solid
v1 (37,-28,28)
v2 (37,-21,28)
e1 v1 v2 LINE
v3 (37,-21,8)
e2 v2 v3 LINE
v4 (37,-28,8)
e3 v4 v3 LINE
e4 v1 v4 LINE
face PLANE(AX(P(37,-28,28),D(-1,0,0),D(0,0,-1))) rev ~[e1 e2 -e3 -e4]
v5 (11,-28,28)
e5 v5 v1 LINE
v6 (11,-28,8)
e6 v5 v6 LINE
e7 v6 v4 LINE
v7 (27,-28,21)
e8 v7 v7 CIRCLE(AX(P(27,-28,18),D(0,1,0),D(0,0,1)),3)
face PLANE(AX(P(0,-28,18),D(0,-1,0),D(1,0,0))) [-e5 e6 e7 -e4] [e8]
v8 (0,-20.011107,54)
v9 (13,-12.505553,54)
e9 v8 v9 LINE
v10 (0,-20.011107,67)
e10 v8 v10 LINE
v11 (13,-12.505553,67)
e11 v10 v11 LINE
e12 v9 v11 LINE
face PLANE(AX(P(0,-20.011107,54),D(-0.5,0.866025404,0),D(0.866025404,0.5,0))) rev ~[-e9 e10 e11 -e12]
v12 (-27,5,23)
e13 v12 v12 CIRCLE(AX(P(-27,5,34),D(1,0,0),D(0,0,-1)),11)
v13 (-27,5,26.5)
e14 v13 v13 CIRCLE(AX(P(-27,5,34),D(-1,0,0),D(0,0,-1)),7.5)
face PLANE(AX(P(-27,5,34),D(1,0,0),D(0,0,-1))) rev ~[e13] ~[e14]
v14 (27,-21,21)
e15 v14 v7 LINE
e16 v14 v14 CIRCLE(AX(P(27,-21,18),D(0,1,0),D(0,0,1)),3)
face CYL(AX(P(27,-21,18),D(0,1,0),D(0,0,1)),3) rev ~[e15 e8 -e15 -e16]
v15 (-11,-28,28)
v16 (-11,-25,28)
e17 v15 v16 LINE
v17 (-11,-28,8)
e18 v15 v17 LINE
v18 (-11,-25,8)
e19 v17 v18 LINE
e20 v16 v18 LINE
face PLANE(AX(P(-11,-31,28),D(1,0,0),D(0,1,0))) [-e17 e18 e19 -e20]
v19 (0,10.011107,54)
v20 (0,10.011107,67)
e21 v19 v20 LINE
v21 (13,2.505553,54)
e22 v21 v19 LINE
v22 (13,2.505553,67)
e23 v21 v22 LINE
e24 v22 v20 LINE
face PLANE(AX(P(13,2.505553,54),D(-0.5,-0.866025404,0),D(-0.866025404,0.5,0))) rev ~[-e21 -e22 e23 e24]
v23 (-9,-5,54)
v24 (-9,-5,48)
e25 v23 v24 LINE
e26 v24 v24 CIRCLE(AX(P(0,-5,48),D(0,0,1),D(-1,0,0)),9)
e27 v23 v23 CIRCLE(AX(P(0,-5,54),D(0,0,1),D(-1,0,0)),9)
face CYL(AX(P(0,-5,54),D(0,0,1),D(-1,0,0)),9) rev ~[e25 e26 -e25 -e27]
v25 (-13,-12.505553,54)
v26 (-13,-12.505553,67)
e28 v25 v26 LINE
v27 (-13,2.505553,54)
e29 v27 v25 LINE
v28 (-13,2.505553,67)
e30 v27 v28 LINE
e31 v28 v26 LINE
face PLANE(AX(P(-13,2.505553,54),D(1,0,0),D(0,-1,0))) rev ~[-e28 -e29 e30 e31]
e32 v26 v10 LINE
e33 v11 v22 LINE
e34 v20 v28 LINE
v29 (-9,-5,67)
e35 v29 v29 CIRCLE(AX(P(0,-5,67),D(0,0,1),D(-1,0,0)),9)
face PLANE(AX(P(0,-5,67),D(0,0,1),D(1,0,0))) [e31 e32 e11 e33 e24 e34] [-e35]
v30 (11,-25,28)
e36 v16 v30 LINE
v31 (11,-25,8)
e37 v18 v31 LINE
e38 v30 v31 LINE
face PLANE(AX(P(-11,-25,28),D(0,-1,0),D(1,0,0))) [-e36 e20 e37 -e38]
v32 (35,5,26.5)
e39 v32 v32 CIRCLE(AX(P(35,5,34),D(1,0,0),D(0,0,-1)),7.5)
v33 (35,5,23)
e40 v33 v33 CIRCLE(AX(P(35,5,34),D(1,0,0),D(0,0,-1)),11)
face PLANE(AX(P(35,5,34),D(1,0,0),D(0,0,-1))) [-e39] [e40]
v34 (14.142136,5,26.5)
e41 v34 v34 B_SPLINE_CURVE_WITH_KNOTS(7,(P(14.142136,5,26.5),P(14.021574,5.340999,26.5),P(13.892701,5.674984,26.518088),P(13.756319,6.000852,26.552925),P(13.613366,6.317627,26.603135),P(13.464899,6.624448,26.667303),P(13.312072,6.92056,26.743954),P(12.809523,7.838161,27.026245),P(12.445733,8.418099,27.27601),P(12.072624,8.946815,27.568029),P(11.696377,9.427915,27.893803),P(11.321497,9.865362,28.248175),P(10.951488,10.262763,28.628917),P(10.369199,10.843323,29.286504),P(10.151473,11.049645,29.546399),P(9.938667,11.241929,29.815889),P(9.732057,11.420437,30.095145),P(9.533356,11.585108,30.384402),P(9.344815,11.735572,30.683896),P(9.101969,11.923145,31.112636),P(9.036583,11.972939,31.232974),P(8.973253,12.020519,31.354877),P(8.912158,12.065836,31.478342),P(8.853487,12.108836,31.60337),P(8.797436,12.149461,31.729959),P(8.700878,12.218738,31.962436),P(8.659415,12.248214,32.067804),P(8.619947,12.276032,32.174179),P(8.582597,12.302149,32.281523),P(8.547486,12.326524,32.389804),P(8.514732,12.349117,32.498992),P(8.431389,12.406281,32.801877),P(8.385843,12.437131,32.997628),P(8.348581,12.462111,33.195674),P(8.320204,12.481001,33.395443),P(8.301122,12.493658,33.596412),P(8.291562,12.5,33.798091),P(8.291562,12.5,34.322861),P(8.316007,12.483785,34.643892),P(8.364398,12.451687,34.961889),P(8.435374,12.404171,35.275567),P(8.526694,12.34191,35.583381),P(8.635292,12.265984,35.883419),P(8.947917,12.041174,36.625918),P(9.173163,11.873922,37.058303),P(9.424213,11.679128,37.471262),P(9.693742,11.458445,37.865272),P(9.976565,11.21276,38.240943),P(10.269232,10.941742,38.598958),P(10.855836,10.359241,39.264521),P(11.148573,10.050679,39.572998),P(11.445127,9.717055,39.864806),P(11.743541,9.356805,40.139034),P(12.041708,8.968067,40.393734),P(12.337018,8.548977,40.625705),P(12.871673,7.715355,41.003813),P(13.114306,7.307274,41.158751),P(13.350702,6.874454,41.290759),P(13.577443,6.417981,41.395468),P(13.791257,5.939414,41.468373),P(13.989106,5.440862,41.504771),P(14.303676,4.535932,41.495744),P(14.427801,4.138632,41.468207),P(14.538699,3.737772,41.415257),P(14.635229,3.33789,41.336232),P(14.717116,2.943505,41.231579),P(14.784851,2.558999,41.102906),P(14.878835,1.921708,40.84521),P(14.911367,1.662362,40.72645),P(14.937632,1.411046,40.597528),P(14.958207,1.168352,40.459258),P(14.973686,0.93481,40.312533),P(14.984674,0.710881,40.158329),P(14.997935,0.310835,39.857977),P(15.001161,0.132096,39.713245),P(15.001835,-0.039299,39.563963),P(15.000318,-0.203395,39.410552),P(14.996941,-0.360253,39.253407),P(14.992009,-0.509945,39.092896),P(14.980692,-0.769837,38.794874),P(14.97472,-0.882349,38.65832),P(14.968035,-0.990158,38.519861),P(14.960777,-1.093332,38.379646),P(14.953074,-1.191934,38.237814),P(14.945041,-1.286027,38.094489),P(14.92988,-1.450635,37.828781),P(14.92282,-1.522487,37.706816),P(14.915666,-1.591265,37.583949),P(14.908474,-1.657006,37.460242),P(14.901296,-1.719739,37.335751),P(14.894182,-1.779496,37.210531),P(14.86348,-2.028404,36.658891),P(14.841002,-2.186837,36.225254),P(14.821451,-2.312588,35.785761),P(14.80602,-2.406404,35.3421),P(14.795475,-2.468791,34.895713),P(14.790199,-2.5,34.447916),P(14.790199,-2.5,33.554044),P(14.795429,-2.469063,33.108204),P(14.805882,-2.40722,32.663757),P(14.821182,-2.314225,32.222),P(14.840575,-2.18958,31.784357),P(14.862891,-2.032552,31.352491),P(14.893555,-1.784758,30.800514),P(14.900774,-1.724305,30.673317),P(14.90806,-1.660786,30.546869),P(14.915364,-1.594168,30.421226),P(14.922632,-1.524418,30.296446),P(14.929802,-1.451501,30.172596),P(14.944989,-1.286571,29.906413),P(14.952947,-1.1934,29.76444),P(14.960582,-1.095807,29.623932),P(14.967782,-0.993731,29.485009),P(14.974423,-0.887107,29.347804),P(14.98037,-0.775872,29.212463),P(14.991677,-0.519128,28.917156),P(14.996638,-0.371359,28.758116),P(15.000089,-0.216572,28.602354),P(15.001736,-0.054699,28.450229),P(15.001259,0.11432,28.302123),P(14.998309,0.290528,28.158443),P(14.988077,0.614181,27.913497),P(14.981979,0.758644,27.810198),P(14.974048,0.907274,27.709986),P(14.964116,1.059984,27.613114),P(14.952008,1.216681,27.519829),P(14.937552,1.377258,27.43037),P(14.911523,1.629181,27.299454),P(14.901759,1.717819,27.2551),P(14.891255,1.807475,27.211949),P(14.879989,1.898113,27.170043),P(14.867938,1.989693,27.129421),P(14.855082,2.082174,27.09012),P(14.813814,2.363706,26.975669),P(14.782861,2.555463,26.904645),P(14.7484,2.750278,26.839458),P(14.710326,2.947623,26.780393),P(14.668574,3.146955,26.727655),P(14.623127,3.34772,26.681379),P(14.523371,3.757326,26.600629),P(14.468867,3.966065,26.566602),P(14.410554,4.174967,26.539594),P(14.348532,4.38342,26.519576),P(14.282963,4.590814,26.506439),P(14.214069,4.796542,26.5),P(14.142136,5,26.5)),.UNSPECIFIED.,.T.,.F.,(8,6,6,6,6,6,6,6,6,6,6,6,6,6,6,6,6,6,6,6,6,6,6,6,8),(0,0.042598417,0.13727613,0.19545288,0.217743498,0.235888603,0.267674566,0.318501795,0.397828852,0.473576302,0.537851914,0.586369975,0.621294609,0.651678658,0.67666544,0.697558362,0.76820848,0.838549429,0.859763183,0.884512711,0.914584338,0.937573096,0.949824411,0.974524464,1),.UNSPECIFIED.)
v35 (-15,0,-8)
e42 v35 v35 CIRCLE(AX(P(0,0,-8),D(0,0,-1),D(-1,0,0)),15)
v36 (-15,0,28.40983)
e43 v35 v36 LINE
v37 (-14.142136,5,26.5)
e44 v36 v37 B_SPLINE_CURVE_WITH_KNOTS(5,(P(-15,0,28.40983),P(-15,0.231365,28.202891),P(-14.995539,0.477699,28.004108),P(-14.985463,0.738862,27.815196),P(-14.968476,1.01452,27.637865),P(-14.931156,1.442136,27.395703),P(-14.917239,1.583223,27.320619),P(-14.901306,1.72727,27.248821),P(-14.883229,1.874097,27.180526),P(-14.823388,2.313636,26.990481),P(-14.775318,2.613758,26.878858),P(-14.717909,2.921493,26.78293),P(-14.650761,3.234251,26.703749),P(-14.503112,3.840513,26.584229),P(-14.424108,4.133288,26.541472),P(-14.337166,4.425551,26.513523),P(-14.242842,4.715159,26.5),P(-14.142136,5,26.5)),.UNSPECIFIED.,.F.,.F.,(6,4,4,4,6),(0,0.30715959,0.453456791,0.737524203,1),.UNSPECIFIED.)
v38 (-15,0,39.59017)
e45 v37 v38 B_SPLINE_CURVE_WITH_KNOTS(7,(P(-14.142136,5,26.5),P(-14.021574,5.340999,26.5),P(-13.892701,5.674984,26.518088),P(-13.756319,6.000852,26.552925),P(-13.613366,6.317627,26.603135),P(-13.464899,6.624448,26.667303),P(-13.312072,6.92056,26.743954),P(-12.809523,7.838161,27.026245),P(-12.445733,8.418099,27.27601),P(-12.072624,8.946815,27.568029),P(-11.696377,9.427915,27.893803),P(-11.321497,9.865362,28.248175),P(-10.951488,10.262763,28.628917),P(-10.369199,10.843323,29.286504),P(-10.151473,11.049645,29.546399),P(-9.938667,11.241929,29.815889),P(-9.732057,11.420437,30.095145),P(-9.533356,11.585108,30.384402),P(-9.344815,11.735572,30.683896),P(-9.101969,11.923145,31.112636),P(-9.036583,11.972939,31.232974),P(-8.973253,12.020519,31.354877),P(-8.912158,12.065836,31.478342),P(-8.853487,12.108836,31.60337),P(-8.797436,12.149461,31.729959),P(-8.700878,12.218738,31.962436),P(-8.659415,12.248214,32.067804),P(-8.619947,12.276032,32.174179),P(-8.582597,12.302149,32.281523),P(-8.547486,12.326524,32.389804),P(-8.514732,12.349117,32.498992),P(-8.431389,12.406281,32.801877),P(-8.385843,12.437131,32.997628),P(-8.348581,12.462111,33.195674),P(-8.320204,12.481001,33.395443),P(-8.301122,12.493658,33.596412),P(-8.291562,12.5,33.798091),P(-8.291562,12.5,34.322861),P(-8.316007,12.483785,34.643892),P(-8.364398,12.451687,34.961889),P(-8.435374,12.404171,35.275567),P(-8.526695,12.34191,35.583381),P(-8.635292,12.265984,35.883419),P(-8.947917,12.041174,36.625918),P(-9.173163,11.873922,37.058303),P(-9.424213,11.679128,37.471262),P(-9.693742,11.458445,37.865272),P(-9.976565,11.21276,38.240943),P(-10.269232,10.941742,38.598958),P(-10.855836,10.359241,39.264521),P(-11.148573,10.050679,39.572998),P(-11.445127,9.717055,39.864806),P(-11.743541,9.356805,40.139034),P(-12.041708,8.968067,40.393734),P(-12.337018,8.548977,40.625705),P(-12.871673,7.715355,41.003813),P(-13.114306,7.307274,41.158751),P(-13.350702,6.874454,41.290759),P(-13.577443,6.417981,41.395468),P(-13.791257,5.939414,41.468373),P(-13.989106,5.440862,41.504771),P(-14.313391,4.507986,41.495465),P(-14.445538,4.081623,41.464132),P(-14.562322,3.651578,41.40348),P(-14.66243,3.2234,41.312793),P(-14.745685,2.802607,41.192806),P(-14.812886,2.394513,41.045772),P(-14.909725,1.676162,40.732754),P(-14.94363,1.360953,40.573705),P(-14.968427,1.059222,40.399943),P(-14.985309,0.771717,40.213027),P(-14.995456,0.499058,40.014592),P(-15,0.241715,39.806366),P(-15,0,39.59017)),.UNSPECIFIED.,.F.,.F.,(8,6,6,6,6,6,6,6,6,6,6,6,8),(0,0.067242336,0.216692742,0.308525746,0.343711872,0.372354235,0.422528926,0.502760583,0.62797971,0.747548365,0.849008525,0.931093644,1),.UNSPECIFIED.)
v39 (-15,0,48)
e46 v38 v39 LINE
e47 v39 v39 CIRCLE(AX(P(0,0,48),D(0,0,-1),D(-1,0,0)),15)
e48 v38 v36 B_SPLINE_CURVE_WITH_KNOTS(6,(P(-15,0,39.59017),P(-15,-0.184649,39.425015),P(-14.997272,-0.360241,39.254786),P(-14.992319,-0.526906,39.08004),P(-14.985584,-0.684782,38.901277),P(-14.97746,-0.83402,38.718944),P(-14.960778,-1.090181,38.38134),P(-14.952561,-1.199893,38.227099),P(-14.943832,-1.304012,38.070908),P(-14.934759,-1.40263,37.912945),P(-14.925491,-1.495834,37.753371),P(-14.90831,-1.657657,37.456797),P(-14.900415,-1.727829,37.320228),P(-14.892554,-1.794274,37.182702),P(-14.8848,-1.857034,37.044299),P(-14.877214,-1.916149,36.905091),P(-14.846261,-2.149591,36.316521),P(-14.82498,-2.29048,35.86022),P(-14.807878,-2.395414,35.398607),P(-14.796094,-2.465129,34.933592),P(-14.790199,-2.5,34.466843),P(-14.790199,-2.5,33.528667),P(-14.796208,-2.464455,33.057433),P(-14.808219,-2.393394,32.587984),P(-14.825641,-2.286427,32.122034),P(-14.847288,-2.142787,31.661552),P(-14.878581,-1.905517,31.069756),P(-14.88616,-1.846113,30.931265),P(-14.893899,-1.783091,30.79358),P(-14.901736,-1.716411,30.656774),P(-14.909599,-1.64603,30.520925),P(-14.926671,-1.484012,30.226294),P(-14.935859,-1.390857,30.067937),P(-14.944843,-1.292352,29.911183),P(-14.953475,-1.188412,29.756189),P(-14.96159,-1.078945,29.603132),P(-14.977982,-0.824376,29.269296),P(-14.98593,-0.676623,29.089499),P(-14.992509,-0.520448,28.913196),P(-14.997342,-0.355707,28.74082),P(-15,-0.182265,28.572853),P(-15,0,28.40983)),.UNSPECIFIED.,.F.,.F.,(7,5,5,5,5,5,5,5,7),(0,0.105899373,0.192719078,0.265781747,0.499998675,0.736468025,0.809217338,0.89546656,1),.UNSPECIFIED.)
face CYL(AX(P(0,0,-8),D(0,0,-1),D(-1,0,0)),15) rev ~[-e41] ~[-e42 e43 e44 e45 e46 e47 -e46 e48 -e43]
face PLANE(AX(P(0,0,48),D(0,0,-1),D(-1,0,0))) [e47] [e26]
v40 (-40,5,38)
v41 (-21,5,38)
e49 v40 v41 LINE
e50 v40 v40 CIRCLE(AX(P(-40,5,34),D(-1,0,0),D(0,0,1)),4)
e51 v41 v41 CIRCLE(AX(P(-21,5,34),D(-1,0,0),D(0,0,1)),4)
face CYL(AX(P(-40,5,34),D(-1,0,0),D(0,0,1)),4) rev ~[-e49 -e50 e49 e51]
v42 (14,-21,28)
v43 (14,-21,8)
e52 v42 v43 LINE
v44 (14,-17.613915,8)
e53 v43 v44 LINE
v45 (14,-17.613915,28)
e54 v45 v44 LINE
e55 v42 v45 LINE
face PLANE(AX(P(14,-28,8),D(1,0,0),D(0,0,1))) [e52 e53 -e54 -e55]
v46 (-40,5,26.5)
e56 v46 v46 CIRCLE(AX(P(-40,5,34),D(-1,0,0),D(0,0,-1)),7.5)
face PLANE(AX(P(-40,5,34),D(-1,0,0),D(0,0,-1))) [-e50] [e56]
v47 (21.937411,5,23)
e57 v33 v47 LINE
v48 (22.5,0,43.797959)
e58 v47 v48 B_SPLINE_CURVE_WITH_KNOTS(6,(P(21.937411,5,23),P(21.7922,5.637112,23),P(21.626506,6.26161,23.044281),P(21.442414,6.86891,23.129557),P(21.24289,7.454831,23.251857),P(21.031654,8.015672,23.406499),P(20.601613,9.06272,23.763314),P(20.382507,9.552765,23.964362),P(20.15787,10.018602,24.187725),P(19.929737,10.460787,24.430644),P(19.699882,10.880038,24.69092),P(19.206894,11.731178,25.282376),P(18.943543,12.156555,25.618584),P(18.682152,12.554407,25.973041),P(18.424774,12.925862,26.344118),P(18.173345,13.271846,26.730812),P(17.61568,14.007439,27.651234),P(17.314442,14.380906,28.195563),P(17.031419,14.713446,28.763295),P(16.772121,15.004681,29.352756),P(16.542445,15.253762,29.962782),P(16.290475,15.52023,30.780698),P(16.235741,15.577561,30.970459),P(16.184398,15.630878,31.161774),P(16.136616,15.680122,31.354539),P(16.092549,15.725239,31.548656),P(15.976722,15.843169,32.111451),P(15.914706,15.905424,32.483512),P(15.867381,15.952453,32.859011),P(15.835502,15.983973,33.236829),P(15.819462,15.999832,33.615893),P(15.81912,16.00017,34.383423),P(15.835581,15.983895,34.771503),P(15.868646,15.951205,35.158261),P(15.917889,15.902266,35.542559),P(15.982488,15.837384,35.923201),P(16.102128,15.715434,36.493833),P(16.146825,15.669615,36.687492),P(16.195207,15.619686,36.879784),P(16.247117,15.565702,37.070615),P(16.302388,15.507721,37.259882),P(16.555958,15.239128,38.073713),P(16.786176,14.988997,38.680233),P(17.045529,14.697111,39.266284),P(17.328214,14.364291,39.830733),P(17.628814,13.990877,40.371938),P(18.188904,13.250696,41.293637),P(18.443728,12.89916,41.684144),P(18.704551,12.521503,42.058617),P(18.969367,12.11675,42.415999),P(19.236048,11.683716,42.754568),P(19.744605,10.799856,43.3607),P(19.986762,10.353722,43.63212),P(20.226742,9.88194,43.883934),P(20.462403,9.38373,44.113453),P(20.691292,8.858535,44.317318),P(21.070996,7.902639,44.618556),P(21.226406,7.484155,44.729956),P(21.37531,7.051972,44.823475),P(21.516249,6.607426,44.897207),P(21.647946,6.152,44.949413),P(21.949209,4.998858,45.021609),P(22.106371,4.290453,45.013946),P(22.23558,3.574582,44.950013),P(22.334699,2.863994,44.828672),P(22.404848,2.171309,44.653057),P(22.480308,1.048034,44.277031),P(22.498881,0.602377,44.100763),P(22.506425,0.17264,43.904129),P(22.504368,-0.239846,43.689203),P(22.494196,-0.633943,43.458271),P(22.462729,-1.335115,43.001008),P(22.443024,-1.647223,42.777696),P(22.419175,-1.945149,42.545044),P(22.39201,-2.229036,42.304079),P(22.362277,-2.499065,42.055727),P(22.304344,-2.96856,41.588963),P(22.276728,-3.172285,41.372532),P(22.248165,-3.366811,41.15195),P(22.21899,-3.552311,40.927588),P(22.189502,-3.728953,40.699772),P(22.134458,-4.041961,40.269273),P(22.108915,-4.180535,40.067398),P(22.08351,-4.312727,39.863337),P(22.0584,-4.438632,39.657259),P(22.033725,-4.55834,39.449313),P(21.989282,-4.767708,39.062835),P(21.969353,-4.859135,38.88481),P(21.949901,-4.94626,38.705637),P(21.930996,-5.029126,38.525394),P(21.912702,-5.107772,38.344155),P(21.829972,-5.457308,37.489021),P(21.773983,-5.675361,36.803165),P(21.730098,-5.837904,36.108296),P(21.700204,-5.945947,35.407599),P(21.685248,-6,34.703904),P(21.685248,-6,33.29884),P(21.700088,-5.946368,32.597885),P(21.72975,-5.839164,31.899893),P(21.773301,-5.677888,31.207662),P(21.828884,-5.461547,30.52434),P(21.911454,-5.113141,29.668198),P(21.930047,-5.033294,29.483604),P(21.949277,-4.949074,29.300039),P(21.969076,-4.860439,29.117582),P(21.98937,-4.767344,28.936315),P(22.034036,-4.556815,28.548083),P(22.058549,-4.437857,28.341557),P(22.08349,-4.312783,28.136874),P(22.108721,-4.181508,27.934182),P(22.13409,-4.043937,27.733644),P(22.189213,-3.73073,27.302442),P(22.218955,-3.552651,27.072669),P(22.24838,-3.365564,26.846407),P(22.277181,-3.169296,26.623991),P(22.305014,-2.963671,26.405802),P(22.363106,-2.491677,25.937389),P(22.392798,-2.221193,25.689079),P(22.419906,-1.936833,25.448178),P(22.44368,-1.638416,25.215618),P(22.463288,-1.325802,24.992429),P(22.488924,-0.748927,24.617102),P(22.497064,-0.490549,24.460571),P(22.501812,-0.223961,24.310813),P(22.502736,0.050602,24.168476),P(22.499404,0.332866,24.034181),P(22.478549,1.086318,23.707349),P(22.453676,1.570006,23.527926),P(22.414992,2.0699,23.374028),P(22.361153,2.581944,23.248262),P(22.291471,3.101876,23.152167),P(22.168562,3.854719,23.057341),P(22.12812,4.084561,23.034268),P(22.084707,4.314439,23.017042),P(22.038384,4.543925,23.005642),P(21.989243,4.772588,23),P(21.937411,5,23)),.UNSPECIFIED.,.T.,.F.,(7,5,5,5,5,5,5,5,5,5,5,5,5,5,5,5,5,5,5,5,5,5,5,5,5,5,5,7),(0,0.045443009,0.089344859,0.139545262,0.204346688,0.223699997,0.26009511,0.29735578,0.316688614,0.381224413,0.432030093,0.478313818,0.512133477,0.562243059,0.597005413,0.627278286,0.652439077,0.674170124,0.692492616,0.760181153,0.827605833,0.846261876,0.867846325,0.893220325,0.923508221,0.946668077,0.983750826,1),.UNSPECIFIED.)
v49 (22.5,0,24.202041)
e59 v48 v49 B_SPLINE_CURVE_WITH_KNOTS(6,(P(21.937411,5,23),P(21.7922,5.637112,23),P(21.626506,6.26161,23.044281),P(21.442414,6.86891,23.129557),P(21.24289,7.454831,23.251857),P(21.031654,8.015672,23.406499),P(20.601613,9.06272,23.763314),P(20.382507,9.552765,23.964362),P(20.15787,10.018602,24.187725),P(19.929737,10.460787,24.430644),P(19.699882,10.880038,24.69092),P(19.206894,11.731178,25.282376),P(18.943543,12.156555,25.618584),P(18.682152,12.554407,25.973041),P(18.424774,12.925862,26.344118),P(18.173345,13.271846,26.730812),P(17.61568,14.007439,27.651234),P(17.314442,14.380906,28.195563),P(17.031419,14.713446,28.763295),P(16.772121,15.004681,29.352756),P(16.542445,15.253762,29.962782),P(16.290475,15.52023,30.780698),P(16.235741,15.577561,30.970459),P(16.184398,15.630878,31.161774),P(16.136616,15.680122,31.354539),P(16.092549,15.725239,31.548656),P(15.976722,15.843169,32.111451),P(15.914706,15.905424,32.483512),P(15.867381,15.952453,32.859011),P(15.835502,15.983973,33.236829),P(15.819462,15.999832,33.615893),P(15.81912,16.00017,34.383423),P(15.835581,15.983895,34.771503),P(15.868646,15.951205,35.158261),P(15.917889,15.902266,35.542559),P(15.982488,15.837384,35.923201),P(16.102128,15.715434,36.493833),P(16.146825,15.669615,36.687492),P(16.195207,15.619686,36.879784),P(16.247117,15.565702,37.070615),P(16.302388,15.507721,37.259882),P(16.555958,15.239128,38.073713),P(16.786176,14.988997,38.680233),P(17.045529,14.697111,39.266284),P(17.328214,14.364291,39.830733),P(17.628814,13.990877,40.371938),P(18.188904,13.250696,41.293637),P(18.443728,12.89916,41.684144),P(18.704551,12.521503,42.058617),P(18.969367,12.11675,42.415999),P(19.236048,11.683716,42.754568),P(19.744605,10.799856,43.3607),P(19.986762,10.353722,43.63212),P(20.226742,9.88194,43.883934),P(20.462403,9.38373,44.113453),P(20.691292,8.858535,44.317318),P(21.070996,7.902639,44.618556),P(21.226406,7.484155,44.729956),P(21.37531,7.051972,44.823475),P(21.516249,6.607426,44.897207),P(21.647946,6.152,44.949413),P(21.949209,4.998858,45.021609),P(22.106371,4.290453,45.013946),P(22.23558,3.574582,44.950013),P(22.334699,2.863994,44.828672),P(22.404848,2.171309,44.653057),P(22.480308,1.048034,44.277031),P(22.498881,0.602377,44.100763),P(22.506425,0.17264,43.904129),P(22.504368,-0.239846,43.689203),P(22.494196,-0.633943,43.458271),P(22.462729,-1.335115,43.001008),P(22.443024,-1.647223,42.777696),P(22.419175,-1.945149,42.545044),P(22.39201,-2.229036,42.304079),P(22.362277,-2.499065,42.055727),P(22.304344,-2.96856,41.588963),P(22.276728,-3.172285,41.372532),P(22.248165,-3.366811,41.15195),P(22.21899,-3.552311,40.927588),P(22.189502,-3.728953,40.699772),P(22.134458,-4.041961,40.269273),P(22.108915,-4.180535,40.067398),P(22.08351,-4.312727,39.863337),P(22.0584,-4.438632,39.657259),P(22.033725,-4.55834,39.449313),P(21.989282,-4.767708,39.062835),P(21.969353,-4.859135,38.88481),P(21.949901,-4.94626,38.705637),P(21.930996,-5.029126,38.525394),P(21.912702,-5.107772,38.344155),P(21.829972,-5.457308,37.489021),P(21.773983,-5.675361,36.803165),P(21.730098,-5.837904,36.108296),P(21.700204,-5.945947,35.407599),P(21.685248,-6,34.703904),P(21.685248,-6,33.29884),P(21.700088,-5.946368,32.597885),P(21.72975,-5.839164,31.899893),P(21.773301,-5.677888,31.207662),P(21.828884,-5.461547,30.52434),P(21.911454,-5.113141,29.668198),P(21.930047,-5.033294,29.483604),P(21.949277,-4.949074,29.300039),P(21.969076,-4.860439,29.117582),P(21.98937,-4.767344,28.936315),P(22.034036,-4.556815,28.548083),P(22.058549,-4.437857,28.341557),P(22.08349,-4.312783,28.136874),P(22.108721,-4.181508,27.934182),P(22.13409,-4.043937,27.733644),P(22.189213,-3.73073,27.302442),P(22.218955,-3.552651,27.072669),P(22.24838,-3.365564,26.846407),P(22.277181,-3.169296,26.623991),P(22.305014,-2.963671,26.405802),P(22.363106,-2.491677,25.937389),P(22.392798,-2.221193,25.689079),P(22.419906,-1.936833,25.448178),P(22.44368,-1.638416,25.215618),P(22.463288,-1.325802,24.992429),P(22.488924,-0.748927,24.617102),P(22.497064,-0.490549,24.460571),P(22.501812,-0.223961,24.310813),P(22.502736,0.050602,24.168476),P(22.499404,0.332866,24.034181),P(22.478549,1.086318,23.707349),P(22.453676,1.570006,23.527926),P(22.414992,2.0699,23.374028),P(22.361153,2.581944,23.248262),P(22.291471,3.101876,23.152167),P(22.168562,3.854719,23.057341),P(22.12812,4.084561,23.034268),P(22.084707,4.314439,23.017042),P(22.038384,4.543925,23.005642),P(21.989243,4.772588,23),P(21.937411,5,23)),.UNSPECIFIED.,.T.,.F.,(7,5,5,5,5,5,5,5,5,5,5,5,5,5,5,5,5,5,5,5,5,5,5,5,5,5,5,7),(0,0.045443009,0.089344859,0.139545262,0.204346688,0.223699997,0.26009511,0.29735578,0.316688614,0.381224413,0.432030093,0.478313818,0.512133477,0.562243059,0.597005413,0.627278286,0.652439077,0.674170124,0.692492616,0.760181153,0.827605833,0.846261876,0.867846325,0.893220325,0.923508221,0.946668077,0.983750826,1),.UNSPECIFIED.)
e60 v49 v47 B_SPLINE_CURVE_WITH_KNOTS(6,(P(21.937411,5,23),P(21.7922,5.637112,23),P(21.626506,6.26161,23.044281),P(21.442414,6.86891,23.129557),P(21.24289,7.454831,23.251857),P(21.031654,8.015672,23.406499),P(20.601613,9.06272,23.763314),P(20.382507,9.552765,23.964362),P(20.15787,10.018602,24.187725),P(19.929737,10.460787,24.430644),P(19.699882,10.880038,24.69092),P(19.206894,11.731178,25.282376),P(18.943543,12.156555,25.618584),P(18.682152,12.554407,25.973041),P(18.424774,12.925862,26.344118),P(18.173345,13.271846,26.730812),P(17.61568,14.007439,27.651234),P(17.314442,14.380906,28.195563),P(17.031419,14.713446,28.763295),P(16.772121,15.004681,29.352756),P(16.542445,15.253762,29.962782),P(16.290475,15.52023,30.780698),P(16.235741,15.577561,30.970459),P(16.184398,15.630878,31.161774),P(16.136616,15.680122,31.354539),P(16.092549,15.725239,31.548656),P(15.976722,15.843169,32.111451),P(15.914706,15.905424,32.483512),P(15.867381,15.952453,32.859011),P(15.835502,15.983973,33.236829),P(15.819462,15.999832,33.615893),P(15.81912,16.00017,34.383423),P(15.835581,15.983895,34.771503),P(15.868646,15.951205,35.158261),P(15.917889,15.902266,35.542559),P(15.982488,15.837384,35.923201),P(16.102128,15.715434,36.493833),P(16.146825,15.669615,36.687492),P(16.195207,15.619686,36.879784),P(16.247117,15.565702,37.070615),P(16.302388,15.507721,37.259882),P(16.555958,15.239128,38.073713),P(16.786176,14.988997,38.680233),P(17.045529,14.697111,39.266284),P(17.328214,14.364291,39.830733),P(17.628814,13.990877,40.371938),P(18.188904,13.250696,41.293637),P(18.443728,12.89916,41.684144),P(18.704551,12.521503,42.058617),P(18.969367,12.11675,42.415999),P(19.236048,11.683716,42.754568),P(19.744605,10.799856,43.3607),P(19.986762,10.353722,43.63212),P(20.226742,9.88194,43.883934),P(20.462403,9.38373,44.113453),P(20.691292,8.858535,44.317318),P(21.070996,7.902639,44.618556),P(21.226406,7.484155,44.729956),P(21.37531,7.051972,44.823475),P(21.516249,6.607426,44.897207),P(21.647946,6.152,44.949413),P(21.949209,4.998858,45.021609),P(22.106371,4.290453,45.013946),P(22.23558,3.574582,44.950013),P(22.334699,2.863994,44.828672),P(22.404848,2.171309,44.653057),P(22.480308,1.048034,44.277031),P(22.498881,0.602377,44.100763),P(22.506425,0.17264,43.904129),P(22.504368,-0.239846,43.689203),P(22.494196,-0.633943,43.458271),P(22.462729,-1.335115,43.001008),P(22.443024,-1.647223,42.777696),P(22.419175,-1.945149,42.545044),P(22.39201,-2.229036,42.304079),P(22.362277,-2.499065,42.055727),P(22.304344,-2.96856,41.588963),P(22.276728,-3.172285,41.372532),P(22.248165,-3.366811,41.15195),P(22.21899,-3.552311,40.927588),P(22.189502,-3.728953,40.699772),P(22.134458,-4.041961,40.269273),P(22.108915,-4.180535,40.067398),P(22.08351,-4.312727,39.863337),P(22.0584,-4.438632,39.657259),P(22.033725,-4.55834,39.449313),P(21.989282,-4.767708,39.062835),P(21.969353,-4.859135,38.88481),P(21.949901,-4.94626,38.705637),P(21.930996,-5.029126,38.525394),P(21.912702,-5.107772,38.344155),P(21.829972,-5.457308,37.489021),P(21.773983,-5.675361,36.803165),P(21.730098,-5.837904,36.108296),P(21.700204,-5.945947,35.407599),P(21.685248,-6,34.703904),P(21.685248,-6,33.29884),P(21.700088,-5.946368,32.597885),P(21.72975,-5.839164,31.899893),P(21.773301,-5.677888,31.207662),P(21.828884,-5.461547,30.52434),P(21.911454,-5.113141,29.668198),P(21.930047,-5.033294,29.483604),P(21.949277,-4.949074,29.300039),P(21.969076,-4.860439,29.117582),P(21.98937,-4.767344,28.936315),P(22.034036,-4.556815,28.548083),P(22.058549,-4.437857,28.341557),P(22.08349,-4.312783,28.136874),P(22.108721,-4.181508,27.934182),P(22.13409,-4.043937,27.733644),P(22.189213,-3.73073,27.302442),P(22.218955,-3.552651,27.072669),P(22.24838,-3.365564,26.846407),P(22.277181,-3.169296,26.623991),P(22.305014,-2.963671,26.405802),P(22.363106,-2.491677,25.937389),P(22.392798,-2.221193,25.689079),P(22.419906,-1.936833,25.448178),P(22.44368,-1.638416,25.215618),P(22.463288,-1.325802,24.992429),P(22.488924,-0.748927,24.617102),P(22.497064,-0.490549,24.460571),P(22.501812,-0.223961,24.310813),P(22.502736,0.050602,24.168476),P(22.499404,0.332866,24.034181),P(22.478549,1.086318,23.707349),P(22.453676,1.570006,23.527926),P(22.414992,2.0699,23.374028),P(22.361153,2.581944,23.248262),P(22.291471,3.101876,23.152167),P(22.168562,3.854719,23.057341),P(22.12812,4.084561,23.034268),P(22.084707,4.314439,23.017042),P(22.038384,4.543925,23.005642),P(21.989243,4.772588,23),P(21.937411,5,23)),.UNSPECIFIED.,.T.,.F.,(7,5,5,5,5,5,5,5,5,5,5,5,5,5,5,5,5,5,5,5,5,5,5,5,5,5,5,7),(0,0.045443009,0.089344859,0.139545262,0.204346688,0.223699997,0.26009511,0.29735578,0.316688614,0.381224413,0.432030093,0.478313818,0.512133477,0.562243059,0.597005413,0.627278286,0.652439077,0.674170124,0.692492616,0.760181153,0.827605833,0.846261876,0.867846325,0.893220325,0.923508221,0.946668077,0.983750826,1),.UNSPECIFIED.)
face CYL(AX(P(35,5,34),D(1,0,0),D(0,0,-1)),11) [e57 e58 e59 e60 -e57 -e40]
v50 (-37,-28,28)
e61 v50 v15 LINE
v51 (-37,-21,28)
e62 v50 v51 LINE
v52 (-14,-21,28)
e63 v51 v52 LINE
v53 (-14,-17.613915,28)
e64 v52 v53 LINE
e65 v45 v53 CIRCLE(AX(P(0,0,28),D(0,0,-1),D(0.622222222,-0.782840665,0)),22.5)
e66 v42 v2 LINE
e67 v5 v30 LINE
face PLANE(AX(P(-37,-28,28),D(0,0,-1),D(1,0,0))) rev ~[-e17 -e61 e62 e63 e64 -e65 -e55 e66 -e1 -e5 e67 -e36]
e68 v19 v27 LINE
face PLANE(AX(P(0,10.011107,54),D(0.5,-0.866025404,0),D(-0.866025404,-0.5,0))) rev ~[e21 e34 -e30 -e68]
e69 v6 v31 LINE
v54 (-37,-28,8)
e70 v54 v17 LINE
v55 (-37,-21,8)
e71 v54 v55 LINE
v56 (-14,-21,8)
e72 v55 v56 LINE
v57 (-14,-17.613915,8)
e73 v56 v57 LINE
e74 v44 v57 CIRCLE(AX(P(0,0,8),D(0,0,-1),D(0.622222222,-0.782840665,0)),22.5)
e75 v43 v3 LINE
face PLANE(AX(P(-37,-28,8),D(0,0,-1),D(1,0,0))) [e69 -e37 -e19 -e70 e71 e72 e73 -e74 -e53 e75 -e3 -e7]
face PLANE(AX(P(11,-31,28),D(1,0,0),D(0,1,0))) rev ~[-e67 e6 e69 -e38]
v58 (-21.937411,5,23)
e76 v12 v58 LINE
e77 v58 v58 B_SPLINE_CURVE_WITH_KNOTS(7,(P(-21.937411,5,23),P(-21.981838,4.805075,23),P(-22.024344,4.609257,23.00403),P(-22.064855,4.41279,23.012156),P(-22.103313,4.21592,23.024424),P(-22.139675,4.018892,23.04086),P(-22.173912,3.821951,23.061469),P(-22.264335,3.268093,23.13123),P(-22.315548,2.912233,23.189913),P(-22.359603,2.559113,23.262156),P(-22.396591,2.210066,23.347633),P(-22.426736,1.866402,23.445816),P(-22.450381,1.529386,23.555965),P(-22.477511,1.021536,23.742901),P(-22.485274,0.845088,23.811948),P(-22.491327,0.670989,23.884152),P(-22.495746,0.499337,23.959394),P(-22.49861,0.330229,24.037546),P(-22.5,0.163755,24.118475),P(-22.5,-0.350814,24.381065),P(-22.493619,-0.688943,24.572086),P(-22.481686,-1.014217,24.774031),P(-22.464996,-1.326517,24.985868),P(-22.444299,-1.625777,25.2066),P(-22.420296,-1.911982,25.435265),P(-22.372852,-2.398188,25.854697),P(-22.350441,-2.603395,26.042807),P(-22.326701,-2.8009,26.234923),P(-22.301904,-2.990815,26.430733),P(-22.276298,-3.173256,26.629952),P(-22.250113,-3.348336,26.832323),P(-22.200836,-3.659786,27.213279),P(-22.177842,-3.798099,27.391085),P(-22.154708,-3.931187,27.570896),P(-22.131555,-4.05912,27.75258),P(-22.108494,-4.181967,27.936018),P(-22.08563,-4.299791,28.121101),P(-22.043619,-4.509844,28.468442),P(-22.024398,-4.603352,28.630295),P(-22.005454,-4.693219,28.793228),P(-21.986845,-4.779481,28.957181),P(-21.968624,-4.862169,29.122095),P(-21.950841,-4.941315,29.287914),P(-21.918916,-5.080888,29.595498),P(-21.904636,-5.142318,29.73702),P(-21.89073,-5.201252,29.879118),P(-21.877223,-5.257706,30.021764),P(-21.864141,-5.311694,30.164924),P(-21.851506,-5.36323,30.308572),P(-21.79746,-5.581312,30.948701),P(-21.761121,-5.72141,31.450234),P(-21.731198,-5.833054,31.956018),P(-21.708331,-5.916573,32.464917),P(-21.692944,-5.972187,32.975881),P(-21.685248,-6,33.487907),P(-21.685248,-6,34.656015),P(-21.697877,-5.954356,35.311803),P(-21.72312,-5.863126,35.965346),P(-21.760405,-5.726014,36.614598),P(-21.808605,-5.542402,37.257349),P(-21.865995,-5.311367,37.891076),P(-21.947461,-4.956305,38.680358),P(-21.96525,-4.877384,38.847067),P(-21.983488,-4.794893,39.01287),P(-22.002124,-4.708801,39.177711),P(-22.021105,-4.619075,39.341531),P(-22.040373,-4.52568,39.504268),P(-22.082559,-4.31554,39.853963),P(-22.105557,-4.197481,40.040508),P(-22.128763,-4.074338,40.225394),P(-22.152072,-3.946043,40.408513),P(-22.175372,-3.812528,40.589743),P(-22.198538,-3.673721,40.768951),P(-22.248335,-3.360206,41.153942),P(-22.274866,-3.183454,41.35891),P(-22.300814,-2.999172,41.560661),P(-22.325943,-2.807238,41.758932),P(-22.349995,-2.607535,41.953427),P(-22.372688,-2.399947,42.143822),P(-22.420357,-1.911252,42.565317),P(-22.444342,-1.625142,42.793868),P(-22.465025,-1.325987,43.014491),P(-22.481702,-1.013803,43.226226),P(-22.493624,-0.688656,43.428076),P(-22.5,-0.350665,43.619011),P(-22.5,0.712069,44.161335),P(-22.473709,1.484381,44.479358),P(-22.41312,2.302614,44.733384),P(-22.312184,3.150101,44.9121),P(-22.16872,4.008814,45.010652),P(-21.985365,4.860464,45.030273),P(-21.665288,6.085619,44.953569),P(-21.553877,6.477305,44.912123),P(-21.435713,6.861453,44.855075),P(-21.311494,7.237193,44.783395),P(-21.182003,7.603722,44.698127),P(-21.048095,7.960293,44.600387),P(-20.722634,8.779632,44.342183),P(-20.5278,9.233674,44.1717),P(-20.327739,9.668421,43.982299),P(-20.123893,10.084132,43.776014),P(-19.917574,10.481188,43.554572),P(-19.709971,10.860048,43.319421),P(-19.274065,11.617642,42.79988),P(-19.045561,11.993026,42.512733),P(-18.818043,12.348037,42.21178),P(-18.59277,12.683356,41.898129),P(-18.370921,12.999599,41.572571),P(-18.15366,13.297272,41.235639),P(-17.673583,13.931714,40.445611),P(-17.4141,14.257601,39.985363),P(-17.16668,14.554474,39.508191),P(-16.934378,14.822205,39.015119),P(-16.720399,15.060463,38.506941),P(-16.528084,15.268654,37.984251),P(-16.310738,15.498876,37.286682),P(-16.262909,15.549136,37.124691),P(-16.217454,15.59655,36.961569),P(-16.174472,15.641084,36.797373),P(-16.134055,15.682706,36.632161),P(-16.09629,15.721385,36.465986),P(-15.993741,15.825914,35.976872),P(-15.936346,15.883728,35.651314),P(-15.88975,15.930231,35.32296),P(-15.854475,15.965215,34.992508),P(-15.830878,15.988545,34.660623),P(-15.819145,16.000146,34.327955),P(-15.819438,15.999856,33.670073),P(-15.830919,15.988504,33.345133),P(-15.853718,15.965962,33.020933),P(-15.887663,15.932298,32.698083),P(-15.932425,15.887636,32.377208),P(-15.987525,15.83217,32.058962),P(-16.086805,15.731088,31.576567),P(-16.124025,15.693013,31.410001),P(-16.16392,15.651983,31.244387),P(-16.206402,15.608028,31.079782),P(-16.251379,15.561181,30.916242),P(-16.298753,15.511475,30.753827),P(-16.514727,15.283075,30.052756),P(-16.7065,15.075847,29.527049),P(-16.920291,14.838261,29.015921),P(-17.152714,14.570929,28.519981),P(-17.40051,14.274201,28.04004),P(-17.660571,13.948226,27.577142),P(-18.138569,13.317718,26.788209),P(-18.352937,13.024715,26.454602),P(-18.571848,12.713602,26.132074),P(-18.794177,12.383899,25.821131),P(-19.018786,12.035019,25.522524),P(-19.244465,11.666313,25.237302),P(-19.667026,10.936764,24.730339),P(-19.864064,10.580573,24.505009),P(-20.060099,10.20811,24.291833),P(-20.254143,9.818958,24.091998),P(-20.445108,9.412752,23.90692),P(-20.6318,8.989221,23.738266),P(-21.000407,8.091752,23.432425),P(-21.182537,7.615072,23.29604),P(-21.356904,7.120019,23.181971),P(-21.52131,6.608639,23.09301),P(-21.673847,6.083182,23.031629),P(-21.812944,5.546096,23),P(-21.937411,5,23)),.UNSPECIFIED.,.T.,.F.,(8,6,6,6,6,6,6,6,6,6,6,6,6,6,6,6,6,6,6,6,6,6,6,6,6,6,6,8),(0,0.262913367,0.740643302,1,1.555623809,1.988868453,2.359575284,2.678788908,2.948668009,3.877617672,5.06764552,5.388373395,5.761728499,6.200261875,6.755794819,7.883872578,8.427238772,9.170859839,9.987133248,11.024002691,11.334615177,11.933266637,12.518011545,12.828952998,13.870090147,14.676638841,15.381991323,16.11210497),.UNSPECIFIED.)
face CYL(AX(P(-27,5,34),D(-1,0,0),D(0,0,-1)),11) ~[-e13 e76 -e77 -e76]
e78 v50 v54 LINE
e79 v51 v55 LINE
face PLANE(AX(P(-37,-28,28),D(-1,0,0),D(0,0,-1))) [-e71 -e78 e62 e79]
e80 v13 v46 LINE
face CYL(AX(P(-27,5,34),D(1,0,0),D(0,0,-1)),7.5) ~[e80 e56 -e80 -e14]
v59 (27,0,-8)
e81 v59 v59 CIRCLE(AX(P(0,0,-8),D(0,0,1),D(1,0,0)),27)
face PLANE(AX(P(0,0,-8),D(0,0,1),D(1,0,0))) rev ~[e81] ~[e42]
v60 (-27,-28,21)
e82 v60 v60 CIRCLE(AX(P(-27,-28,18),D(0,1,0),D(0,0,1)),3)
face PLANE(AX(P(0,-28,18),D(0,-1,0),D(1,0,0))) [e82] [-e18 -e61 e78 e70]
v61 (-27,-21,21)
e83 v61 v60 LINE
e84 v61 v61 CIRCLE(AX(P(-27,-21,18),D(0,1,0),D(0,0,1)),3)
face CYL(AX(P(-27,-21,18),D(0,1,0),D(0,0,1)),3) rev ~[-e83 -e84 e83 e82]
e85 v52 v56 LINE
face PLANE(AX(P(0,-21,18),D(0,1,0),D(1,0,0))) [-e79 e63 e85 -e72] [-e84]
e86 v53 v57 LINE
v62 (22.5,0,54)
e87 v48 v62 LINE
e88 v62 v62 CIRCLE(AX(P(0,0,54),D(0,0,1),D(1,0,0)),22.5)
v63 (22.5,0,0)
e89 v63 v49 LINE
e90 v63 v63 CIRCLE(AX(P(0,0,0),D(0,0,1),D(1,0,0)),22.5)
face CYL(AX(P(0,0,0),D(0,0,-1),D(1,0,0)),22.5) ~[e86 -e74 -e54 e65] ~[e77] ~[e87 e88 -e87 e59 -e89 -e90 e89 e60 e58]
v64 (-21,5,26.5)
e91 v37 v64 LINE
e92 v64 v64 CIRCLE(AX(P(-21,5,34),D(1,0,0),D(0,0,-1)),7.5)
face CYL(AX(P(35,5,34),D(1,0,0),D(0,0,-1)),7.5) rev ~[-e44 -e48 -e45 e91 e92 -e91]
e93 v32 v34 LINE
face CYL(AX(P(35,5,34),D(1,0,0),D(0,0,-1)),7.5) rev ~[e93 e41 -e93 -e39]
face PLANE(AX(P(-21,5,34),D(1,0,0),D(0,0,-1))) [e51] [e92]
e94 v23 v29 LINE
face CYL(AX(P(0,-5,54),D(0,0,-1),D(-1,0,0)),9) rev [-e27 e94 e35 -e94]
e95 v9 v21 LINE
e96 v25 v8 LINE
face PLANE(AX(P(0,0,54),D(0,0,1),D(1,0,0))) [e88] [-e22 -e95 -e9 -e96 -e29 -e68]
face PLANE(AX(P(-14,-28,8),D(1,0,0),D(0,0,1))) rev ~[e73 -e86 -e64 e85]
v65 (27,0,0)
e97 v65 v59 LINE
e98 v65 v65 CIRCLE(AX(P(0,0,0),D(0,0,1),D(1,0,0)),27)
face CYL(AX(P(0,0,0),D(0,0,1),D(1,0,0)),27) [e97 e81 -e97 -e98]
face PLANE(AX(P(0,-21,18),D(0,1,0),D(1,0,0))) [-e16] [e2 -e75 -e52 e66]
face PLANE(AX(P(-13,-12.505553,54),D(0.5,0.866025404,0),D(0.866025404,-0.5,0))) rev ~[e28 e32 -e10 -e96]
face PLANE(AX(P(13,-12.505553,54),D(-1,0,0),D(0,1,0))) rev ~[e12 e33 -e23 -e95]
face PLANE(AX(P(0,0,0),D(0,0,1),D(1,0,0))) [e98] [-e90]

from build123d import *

# Parameters (mm, degrees)
SKETCH_1_R           = 27
EXTRUDE_1_DEPTH      = 8
SKETCH_2_R           = 22.5
EXTRUDE_2_DEPTH      = 54
SKETCH_3_R           = 9
EXTRUDE_3_DEPTH      = 13
SKETCH_4_R           = 15
CUT_EXTRUDE_1_DEPTH  = 56
CUT_EXTRUDE_2_REACH  = 74.815
SKETCH_7_R           = 9
SKETCH_8_W           = 74
SKETCH_8_H           = 20
EXTRUDE_4_DEPTH      = 7
EXTRUDE_5_REACH      = 96.25
EXTRUDE_5_END_RADIUS = 22.5
SKETCH_9_W           = 28
SKETCH_9_H           = 20
CUT_EXTRUDE_3_REACH  = 62.614
SKETCH_10_W          = 22
SKETCH_10_H          = 6
EXTRUDE_7_REACH      = 104.259
EXTRUDE_7_END_RADIUS = 22.5
SKETCH_12_R          = 11
EXTRUDE_8_REACH      = 98.794
EXTRUDE_8_END_RADIUS = 22.5
SKETCH_15_R          = 11
SKETCH_13_R          = 7.5
CUT_EXTRUDE_6_DEPTH  = 56
SKETCH_16_R          = 7.5
EXTRUDE_9_DEPTH      = 13
SKETCH_17_R          = 4
CUT_EXTRUDE_7_DEPTH  = 30
SKETCH_18_R          = 3
CUT_EXTRUDE_8_DEPTH  = 30


with BuildPart() as part:
    # 草图1 → 凸台-拉伸1 (new body)
    with BuildSketch(Plane.XY):
        Circle(SKETCH_1_R)
    extrude(amount=-EXTRUDE_1_DEPTH)

    # 草图2 → 凸台-拉伸2 (add)
    with BuildSketch(Plane.XY):
        Circle(SKETCH_2_R)
    extrude(amount=EXTRUDE_2_DEPTH)

    # 草图3 → 凸台-拉伸3 (add)
    with BuildSketch(Plane.XY.offset(54)):
        Polygon((0, 10.011106999), (-13, 2.505553499), (-13, -12.505553499), (0, -20.011106999), (13, -12.505553499), (13, 2.505553499), align=None)
        with Locations(Location((0, -5, 0), (0, 0, 180))):
            Circle(SKETCH_3_R, mode=Mode.SUBTRACT)
    extrude(amount=EXTRUDE_3_DEPTH)

    # 草图4 → 切除-拉伸1 (cut)
    with BuildSketch(Plane(origin=(0, 0, -8), x_dir=(-1, 0, 0), z_dir=(0, 0, -1))):
        Circle(SKETCH_4_R)
    extrude(amount=-CUT_EXTRUDE_1_DEPTH, mode=Mode.SUBTRACT)

    # 草图7 → 切除-拉伸2 (cut, up to next)
    with BuildSketch(Plane.XY.offset(54), mode=Mode.PRIVATE) as cut_extrude_2_sk1:
        with Locations(Location((0, -5, 0), (0, 0, 180))):
            Circle(SKETCH_7_R)
    cut_extrude_2_tool1 = extrude(cut_extrude_2_sk1.sketch, amount=-CUT_EXTRUDE_2_REACH, mode=Mode.PRIVATE) & part.part
    add(cut_extrude_2_tool1.solids().sort_by_distance((0, -5, 54))[0], mode=Mode.SUBTRACT)

    # 草图8 → 凸台-拉伸4 (add)
    with BuildSketch(Plane(origin=(0, -28, 0), x_dir=(1, 0, 0), z_dir=(0, 1, 0))):
        with Locations((0, -18)):
            Rectangle(SKETCH_8_W, SKETCH_8_H)
    extrude(amount=EXTRUDE_4_DEPTH)

    # 凸台-拉伸5: up to this cylinder (the profile starts outside it)
    extrude_5_end = Plane(origin=(0, 0, 18), z_dir=(0, 0, -1)) * Cylinder(EXTRUDE_5_END_RADIUS, 238.5, mode=Mode.PRIVATE)
    # 草图9 → 凸台-拉伸5 (add, up to the surface)
    with BuildSketch(Plane.XZ.offset(28), mode=Mode.PRIVATE) as extrude_5_sk1:
        with Locations((0, 18)):
            Rectangle(SKETCH_9_W, SKETCH_9_H)
    extrude_5_tool1 = extrude(extrude_5_sk1.sketch, amount=-EXTRUDE_5_REACH, mode=Mode.PRIVATE) - extrude_5_end
    add(extrude_5_tool1.solids().sort_by_distance((0, -28, 18))[0])

    # 草图10 → 切除-拉伸3 (cut, up to next)
    with BuildSketch(Plane.XY.offset(28), mode=Mode.PRIVATE) as cut_extrude_3_sk1:
        with Locations((0, -28)):
            Rectangle(SKETCH_10_W, SKETCH_10_H)
    cut_extrude_3_tool1 = extrude(cut_extrude_3_sk1.sketch, amount=-CUT_EXTRUDE_3_REACH, mode=Mode.PRIVATE) & part.part
    add(cut_extrude_3_tool1.solids().sort_by_distance((0, -28, 28))[0], mode=Mode.SUBTRACT)

    # 凸台-拉伸7: up to this cylinder (the profile starts outside it)
    extrude_7_end = Plane(origin=(0, 0, 34), z_dir=(0, 0, -1)) * Cylinder(EXTRUDE_7_END_RADIUS, 254.518, mode=Mode.PRIVATE)
    # 草图12 → 凸台-拉伸7 (add, up to the surface)
    with BuildSketch(Plane(origin=(35, 0, 0), x_dir=(0, 0, -1), z_dir=(1, 0, 0)), mode=Mode.PRIVATE) as extrude_7_sk1:
        with Locations((-34, 5)):
            Circle(SKETCH_12_R)
    extrude_7_tool1 = extrude(extrude_7_sk1.sketch, amount=-EXTRUDE_7_REACH, mode=Mode.PRIVATE) - extrude_7_end
    add(extrude_7_tool1.solids().sort_by_distance((35, 5, 34))[0])

    # 凸台-拉伸8: up to this cylinder (the profile starts outside it)
    extrude_8_end = Plane(origin=(0, 0, 34), z_dir=(0, 0, -1)) * Cylinder(EXTRUDE_8_END_RADIUS, 243.588, mode=Mode.PRIVATE)
    # 草图15 → 凸台-拉伸8 (add, up to the surface)
    with BuildSketch(Plane(origin=(-27, 0, 0), x_dir=(0, 0, -1), z_dir=(1, 0, 0)), mode=Mode.PRIVATE) as extrude_8_sk1:
        with Locations((-34, 5)):
            Circle(SKETCH_15_R)
    extrude_8_tool1 = extrude(extrude_8_sk1.sketch, amount=EXTRUDE_8_REACH, mode=Mode.PRIVATE) - extrude_8_end
    add(extrude_8_tool1.solids().sort_by_distance((-27, 5, 34))[0])

    # 草图13 → 切除-拉伸6 (cut)
    with BuildSketch(Plane(origin=(35, 0, 0), x_dir=(0, 0, -1), z_dir=(1, 0, 0))):
        with Locations((-34, 5)):
            Circle(SKETCH_13_R)
    extrude(amount=-CUT_EXTRUDE_6_DEPTH, mode=Mode.SUBTRACT)

    # 草图16 → 凸台-拉伸9 (add)
    with BuildSketch(Plane.ZY.offset(27)):
        with Locations(Location((34, 5, 0), (0, 0, 180))):
            Circle(SKETCH_16_R)
    extrude(amount=EXTRUDE_9_DEPTH)

    # 草图17 → 切除-拉伸7 (cut)
    with BuildSketch(Plane.ZY.offset(40)):
        with Locations((34, 5)):
            Circle(SKETCH_17_R)
    extrude(amount=-CUT_EXTRUDE_7_DEPTH, mode=Mode.SUBTRACT)

    # 草图18 → 切除-拉伸8 (cut)
    with BuildSketch(Plane(origin=(0, -21, 0), x_dir=(1, 0, 0), z_dir=(0, 1, 0))):
        with Locations(Location((-27, -18, 0), (0, 0, 270))):
            Circle(SKETCH_18_R)
        with Locations(Location((27, -18, 0), (0, 0, 270))):
            Circle(SKETCH_18_R)
    extrude(amount=-CUT_EXTRUDE_8_DEPTH, mode=Mode.SUBTRACT)


solid = part.part
